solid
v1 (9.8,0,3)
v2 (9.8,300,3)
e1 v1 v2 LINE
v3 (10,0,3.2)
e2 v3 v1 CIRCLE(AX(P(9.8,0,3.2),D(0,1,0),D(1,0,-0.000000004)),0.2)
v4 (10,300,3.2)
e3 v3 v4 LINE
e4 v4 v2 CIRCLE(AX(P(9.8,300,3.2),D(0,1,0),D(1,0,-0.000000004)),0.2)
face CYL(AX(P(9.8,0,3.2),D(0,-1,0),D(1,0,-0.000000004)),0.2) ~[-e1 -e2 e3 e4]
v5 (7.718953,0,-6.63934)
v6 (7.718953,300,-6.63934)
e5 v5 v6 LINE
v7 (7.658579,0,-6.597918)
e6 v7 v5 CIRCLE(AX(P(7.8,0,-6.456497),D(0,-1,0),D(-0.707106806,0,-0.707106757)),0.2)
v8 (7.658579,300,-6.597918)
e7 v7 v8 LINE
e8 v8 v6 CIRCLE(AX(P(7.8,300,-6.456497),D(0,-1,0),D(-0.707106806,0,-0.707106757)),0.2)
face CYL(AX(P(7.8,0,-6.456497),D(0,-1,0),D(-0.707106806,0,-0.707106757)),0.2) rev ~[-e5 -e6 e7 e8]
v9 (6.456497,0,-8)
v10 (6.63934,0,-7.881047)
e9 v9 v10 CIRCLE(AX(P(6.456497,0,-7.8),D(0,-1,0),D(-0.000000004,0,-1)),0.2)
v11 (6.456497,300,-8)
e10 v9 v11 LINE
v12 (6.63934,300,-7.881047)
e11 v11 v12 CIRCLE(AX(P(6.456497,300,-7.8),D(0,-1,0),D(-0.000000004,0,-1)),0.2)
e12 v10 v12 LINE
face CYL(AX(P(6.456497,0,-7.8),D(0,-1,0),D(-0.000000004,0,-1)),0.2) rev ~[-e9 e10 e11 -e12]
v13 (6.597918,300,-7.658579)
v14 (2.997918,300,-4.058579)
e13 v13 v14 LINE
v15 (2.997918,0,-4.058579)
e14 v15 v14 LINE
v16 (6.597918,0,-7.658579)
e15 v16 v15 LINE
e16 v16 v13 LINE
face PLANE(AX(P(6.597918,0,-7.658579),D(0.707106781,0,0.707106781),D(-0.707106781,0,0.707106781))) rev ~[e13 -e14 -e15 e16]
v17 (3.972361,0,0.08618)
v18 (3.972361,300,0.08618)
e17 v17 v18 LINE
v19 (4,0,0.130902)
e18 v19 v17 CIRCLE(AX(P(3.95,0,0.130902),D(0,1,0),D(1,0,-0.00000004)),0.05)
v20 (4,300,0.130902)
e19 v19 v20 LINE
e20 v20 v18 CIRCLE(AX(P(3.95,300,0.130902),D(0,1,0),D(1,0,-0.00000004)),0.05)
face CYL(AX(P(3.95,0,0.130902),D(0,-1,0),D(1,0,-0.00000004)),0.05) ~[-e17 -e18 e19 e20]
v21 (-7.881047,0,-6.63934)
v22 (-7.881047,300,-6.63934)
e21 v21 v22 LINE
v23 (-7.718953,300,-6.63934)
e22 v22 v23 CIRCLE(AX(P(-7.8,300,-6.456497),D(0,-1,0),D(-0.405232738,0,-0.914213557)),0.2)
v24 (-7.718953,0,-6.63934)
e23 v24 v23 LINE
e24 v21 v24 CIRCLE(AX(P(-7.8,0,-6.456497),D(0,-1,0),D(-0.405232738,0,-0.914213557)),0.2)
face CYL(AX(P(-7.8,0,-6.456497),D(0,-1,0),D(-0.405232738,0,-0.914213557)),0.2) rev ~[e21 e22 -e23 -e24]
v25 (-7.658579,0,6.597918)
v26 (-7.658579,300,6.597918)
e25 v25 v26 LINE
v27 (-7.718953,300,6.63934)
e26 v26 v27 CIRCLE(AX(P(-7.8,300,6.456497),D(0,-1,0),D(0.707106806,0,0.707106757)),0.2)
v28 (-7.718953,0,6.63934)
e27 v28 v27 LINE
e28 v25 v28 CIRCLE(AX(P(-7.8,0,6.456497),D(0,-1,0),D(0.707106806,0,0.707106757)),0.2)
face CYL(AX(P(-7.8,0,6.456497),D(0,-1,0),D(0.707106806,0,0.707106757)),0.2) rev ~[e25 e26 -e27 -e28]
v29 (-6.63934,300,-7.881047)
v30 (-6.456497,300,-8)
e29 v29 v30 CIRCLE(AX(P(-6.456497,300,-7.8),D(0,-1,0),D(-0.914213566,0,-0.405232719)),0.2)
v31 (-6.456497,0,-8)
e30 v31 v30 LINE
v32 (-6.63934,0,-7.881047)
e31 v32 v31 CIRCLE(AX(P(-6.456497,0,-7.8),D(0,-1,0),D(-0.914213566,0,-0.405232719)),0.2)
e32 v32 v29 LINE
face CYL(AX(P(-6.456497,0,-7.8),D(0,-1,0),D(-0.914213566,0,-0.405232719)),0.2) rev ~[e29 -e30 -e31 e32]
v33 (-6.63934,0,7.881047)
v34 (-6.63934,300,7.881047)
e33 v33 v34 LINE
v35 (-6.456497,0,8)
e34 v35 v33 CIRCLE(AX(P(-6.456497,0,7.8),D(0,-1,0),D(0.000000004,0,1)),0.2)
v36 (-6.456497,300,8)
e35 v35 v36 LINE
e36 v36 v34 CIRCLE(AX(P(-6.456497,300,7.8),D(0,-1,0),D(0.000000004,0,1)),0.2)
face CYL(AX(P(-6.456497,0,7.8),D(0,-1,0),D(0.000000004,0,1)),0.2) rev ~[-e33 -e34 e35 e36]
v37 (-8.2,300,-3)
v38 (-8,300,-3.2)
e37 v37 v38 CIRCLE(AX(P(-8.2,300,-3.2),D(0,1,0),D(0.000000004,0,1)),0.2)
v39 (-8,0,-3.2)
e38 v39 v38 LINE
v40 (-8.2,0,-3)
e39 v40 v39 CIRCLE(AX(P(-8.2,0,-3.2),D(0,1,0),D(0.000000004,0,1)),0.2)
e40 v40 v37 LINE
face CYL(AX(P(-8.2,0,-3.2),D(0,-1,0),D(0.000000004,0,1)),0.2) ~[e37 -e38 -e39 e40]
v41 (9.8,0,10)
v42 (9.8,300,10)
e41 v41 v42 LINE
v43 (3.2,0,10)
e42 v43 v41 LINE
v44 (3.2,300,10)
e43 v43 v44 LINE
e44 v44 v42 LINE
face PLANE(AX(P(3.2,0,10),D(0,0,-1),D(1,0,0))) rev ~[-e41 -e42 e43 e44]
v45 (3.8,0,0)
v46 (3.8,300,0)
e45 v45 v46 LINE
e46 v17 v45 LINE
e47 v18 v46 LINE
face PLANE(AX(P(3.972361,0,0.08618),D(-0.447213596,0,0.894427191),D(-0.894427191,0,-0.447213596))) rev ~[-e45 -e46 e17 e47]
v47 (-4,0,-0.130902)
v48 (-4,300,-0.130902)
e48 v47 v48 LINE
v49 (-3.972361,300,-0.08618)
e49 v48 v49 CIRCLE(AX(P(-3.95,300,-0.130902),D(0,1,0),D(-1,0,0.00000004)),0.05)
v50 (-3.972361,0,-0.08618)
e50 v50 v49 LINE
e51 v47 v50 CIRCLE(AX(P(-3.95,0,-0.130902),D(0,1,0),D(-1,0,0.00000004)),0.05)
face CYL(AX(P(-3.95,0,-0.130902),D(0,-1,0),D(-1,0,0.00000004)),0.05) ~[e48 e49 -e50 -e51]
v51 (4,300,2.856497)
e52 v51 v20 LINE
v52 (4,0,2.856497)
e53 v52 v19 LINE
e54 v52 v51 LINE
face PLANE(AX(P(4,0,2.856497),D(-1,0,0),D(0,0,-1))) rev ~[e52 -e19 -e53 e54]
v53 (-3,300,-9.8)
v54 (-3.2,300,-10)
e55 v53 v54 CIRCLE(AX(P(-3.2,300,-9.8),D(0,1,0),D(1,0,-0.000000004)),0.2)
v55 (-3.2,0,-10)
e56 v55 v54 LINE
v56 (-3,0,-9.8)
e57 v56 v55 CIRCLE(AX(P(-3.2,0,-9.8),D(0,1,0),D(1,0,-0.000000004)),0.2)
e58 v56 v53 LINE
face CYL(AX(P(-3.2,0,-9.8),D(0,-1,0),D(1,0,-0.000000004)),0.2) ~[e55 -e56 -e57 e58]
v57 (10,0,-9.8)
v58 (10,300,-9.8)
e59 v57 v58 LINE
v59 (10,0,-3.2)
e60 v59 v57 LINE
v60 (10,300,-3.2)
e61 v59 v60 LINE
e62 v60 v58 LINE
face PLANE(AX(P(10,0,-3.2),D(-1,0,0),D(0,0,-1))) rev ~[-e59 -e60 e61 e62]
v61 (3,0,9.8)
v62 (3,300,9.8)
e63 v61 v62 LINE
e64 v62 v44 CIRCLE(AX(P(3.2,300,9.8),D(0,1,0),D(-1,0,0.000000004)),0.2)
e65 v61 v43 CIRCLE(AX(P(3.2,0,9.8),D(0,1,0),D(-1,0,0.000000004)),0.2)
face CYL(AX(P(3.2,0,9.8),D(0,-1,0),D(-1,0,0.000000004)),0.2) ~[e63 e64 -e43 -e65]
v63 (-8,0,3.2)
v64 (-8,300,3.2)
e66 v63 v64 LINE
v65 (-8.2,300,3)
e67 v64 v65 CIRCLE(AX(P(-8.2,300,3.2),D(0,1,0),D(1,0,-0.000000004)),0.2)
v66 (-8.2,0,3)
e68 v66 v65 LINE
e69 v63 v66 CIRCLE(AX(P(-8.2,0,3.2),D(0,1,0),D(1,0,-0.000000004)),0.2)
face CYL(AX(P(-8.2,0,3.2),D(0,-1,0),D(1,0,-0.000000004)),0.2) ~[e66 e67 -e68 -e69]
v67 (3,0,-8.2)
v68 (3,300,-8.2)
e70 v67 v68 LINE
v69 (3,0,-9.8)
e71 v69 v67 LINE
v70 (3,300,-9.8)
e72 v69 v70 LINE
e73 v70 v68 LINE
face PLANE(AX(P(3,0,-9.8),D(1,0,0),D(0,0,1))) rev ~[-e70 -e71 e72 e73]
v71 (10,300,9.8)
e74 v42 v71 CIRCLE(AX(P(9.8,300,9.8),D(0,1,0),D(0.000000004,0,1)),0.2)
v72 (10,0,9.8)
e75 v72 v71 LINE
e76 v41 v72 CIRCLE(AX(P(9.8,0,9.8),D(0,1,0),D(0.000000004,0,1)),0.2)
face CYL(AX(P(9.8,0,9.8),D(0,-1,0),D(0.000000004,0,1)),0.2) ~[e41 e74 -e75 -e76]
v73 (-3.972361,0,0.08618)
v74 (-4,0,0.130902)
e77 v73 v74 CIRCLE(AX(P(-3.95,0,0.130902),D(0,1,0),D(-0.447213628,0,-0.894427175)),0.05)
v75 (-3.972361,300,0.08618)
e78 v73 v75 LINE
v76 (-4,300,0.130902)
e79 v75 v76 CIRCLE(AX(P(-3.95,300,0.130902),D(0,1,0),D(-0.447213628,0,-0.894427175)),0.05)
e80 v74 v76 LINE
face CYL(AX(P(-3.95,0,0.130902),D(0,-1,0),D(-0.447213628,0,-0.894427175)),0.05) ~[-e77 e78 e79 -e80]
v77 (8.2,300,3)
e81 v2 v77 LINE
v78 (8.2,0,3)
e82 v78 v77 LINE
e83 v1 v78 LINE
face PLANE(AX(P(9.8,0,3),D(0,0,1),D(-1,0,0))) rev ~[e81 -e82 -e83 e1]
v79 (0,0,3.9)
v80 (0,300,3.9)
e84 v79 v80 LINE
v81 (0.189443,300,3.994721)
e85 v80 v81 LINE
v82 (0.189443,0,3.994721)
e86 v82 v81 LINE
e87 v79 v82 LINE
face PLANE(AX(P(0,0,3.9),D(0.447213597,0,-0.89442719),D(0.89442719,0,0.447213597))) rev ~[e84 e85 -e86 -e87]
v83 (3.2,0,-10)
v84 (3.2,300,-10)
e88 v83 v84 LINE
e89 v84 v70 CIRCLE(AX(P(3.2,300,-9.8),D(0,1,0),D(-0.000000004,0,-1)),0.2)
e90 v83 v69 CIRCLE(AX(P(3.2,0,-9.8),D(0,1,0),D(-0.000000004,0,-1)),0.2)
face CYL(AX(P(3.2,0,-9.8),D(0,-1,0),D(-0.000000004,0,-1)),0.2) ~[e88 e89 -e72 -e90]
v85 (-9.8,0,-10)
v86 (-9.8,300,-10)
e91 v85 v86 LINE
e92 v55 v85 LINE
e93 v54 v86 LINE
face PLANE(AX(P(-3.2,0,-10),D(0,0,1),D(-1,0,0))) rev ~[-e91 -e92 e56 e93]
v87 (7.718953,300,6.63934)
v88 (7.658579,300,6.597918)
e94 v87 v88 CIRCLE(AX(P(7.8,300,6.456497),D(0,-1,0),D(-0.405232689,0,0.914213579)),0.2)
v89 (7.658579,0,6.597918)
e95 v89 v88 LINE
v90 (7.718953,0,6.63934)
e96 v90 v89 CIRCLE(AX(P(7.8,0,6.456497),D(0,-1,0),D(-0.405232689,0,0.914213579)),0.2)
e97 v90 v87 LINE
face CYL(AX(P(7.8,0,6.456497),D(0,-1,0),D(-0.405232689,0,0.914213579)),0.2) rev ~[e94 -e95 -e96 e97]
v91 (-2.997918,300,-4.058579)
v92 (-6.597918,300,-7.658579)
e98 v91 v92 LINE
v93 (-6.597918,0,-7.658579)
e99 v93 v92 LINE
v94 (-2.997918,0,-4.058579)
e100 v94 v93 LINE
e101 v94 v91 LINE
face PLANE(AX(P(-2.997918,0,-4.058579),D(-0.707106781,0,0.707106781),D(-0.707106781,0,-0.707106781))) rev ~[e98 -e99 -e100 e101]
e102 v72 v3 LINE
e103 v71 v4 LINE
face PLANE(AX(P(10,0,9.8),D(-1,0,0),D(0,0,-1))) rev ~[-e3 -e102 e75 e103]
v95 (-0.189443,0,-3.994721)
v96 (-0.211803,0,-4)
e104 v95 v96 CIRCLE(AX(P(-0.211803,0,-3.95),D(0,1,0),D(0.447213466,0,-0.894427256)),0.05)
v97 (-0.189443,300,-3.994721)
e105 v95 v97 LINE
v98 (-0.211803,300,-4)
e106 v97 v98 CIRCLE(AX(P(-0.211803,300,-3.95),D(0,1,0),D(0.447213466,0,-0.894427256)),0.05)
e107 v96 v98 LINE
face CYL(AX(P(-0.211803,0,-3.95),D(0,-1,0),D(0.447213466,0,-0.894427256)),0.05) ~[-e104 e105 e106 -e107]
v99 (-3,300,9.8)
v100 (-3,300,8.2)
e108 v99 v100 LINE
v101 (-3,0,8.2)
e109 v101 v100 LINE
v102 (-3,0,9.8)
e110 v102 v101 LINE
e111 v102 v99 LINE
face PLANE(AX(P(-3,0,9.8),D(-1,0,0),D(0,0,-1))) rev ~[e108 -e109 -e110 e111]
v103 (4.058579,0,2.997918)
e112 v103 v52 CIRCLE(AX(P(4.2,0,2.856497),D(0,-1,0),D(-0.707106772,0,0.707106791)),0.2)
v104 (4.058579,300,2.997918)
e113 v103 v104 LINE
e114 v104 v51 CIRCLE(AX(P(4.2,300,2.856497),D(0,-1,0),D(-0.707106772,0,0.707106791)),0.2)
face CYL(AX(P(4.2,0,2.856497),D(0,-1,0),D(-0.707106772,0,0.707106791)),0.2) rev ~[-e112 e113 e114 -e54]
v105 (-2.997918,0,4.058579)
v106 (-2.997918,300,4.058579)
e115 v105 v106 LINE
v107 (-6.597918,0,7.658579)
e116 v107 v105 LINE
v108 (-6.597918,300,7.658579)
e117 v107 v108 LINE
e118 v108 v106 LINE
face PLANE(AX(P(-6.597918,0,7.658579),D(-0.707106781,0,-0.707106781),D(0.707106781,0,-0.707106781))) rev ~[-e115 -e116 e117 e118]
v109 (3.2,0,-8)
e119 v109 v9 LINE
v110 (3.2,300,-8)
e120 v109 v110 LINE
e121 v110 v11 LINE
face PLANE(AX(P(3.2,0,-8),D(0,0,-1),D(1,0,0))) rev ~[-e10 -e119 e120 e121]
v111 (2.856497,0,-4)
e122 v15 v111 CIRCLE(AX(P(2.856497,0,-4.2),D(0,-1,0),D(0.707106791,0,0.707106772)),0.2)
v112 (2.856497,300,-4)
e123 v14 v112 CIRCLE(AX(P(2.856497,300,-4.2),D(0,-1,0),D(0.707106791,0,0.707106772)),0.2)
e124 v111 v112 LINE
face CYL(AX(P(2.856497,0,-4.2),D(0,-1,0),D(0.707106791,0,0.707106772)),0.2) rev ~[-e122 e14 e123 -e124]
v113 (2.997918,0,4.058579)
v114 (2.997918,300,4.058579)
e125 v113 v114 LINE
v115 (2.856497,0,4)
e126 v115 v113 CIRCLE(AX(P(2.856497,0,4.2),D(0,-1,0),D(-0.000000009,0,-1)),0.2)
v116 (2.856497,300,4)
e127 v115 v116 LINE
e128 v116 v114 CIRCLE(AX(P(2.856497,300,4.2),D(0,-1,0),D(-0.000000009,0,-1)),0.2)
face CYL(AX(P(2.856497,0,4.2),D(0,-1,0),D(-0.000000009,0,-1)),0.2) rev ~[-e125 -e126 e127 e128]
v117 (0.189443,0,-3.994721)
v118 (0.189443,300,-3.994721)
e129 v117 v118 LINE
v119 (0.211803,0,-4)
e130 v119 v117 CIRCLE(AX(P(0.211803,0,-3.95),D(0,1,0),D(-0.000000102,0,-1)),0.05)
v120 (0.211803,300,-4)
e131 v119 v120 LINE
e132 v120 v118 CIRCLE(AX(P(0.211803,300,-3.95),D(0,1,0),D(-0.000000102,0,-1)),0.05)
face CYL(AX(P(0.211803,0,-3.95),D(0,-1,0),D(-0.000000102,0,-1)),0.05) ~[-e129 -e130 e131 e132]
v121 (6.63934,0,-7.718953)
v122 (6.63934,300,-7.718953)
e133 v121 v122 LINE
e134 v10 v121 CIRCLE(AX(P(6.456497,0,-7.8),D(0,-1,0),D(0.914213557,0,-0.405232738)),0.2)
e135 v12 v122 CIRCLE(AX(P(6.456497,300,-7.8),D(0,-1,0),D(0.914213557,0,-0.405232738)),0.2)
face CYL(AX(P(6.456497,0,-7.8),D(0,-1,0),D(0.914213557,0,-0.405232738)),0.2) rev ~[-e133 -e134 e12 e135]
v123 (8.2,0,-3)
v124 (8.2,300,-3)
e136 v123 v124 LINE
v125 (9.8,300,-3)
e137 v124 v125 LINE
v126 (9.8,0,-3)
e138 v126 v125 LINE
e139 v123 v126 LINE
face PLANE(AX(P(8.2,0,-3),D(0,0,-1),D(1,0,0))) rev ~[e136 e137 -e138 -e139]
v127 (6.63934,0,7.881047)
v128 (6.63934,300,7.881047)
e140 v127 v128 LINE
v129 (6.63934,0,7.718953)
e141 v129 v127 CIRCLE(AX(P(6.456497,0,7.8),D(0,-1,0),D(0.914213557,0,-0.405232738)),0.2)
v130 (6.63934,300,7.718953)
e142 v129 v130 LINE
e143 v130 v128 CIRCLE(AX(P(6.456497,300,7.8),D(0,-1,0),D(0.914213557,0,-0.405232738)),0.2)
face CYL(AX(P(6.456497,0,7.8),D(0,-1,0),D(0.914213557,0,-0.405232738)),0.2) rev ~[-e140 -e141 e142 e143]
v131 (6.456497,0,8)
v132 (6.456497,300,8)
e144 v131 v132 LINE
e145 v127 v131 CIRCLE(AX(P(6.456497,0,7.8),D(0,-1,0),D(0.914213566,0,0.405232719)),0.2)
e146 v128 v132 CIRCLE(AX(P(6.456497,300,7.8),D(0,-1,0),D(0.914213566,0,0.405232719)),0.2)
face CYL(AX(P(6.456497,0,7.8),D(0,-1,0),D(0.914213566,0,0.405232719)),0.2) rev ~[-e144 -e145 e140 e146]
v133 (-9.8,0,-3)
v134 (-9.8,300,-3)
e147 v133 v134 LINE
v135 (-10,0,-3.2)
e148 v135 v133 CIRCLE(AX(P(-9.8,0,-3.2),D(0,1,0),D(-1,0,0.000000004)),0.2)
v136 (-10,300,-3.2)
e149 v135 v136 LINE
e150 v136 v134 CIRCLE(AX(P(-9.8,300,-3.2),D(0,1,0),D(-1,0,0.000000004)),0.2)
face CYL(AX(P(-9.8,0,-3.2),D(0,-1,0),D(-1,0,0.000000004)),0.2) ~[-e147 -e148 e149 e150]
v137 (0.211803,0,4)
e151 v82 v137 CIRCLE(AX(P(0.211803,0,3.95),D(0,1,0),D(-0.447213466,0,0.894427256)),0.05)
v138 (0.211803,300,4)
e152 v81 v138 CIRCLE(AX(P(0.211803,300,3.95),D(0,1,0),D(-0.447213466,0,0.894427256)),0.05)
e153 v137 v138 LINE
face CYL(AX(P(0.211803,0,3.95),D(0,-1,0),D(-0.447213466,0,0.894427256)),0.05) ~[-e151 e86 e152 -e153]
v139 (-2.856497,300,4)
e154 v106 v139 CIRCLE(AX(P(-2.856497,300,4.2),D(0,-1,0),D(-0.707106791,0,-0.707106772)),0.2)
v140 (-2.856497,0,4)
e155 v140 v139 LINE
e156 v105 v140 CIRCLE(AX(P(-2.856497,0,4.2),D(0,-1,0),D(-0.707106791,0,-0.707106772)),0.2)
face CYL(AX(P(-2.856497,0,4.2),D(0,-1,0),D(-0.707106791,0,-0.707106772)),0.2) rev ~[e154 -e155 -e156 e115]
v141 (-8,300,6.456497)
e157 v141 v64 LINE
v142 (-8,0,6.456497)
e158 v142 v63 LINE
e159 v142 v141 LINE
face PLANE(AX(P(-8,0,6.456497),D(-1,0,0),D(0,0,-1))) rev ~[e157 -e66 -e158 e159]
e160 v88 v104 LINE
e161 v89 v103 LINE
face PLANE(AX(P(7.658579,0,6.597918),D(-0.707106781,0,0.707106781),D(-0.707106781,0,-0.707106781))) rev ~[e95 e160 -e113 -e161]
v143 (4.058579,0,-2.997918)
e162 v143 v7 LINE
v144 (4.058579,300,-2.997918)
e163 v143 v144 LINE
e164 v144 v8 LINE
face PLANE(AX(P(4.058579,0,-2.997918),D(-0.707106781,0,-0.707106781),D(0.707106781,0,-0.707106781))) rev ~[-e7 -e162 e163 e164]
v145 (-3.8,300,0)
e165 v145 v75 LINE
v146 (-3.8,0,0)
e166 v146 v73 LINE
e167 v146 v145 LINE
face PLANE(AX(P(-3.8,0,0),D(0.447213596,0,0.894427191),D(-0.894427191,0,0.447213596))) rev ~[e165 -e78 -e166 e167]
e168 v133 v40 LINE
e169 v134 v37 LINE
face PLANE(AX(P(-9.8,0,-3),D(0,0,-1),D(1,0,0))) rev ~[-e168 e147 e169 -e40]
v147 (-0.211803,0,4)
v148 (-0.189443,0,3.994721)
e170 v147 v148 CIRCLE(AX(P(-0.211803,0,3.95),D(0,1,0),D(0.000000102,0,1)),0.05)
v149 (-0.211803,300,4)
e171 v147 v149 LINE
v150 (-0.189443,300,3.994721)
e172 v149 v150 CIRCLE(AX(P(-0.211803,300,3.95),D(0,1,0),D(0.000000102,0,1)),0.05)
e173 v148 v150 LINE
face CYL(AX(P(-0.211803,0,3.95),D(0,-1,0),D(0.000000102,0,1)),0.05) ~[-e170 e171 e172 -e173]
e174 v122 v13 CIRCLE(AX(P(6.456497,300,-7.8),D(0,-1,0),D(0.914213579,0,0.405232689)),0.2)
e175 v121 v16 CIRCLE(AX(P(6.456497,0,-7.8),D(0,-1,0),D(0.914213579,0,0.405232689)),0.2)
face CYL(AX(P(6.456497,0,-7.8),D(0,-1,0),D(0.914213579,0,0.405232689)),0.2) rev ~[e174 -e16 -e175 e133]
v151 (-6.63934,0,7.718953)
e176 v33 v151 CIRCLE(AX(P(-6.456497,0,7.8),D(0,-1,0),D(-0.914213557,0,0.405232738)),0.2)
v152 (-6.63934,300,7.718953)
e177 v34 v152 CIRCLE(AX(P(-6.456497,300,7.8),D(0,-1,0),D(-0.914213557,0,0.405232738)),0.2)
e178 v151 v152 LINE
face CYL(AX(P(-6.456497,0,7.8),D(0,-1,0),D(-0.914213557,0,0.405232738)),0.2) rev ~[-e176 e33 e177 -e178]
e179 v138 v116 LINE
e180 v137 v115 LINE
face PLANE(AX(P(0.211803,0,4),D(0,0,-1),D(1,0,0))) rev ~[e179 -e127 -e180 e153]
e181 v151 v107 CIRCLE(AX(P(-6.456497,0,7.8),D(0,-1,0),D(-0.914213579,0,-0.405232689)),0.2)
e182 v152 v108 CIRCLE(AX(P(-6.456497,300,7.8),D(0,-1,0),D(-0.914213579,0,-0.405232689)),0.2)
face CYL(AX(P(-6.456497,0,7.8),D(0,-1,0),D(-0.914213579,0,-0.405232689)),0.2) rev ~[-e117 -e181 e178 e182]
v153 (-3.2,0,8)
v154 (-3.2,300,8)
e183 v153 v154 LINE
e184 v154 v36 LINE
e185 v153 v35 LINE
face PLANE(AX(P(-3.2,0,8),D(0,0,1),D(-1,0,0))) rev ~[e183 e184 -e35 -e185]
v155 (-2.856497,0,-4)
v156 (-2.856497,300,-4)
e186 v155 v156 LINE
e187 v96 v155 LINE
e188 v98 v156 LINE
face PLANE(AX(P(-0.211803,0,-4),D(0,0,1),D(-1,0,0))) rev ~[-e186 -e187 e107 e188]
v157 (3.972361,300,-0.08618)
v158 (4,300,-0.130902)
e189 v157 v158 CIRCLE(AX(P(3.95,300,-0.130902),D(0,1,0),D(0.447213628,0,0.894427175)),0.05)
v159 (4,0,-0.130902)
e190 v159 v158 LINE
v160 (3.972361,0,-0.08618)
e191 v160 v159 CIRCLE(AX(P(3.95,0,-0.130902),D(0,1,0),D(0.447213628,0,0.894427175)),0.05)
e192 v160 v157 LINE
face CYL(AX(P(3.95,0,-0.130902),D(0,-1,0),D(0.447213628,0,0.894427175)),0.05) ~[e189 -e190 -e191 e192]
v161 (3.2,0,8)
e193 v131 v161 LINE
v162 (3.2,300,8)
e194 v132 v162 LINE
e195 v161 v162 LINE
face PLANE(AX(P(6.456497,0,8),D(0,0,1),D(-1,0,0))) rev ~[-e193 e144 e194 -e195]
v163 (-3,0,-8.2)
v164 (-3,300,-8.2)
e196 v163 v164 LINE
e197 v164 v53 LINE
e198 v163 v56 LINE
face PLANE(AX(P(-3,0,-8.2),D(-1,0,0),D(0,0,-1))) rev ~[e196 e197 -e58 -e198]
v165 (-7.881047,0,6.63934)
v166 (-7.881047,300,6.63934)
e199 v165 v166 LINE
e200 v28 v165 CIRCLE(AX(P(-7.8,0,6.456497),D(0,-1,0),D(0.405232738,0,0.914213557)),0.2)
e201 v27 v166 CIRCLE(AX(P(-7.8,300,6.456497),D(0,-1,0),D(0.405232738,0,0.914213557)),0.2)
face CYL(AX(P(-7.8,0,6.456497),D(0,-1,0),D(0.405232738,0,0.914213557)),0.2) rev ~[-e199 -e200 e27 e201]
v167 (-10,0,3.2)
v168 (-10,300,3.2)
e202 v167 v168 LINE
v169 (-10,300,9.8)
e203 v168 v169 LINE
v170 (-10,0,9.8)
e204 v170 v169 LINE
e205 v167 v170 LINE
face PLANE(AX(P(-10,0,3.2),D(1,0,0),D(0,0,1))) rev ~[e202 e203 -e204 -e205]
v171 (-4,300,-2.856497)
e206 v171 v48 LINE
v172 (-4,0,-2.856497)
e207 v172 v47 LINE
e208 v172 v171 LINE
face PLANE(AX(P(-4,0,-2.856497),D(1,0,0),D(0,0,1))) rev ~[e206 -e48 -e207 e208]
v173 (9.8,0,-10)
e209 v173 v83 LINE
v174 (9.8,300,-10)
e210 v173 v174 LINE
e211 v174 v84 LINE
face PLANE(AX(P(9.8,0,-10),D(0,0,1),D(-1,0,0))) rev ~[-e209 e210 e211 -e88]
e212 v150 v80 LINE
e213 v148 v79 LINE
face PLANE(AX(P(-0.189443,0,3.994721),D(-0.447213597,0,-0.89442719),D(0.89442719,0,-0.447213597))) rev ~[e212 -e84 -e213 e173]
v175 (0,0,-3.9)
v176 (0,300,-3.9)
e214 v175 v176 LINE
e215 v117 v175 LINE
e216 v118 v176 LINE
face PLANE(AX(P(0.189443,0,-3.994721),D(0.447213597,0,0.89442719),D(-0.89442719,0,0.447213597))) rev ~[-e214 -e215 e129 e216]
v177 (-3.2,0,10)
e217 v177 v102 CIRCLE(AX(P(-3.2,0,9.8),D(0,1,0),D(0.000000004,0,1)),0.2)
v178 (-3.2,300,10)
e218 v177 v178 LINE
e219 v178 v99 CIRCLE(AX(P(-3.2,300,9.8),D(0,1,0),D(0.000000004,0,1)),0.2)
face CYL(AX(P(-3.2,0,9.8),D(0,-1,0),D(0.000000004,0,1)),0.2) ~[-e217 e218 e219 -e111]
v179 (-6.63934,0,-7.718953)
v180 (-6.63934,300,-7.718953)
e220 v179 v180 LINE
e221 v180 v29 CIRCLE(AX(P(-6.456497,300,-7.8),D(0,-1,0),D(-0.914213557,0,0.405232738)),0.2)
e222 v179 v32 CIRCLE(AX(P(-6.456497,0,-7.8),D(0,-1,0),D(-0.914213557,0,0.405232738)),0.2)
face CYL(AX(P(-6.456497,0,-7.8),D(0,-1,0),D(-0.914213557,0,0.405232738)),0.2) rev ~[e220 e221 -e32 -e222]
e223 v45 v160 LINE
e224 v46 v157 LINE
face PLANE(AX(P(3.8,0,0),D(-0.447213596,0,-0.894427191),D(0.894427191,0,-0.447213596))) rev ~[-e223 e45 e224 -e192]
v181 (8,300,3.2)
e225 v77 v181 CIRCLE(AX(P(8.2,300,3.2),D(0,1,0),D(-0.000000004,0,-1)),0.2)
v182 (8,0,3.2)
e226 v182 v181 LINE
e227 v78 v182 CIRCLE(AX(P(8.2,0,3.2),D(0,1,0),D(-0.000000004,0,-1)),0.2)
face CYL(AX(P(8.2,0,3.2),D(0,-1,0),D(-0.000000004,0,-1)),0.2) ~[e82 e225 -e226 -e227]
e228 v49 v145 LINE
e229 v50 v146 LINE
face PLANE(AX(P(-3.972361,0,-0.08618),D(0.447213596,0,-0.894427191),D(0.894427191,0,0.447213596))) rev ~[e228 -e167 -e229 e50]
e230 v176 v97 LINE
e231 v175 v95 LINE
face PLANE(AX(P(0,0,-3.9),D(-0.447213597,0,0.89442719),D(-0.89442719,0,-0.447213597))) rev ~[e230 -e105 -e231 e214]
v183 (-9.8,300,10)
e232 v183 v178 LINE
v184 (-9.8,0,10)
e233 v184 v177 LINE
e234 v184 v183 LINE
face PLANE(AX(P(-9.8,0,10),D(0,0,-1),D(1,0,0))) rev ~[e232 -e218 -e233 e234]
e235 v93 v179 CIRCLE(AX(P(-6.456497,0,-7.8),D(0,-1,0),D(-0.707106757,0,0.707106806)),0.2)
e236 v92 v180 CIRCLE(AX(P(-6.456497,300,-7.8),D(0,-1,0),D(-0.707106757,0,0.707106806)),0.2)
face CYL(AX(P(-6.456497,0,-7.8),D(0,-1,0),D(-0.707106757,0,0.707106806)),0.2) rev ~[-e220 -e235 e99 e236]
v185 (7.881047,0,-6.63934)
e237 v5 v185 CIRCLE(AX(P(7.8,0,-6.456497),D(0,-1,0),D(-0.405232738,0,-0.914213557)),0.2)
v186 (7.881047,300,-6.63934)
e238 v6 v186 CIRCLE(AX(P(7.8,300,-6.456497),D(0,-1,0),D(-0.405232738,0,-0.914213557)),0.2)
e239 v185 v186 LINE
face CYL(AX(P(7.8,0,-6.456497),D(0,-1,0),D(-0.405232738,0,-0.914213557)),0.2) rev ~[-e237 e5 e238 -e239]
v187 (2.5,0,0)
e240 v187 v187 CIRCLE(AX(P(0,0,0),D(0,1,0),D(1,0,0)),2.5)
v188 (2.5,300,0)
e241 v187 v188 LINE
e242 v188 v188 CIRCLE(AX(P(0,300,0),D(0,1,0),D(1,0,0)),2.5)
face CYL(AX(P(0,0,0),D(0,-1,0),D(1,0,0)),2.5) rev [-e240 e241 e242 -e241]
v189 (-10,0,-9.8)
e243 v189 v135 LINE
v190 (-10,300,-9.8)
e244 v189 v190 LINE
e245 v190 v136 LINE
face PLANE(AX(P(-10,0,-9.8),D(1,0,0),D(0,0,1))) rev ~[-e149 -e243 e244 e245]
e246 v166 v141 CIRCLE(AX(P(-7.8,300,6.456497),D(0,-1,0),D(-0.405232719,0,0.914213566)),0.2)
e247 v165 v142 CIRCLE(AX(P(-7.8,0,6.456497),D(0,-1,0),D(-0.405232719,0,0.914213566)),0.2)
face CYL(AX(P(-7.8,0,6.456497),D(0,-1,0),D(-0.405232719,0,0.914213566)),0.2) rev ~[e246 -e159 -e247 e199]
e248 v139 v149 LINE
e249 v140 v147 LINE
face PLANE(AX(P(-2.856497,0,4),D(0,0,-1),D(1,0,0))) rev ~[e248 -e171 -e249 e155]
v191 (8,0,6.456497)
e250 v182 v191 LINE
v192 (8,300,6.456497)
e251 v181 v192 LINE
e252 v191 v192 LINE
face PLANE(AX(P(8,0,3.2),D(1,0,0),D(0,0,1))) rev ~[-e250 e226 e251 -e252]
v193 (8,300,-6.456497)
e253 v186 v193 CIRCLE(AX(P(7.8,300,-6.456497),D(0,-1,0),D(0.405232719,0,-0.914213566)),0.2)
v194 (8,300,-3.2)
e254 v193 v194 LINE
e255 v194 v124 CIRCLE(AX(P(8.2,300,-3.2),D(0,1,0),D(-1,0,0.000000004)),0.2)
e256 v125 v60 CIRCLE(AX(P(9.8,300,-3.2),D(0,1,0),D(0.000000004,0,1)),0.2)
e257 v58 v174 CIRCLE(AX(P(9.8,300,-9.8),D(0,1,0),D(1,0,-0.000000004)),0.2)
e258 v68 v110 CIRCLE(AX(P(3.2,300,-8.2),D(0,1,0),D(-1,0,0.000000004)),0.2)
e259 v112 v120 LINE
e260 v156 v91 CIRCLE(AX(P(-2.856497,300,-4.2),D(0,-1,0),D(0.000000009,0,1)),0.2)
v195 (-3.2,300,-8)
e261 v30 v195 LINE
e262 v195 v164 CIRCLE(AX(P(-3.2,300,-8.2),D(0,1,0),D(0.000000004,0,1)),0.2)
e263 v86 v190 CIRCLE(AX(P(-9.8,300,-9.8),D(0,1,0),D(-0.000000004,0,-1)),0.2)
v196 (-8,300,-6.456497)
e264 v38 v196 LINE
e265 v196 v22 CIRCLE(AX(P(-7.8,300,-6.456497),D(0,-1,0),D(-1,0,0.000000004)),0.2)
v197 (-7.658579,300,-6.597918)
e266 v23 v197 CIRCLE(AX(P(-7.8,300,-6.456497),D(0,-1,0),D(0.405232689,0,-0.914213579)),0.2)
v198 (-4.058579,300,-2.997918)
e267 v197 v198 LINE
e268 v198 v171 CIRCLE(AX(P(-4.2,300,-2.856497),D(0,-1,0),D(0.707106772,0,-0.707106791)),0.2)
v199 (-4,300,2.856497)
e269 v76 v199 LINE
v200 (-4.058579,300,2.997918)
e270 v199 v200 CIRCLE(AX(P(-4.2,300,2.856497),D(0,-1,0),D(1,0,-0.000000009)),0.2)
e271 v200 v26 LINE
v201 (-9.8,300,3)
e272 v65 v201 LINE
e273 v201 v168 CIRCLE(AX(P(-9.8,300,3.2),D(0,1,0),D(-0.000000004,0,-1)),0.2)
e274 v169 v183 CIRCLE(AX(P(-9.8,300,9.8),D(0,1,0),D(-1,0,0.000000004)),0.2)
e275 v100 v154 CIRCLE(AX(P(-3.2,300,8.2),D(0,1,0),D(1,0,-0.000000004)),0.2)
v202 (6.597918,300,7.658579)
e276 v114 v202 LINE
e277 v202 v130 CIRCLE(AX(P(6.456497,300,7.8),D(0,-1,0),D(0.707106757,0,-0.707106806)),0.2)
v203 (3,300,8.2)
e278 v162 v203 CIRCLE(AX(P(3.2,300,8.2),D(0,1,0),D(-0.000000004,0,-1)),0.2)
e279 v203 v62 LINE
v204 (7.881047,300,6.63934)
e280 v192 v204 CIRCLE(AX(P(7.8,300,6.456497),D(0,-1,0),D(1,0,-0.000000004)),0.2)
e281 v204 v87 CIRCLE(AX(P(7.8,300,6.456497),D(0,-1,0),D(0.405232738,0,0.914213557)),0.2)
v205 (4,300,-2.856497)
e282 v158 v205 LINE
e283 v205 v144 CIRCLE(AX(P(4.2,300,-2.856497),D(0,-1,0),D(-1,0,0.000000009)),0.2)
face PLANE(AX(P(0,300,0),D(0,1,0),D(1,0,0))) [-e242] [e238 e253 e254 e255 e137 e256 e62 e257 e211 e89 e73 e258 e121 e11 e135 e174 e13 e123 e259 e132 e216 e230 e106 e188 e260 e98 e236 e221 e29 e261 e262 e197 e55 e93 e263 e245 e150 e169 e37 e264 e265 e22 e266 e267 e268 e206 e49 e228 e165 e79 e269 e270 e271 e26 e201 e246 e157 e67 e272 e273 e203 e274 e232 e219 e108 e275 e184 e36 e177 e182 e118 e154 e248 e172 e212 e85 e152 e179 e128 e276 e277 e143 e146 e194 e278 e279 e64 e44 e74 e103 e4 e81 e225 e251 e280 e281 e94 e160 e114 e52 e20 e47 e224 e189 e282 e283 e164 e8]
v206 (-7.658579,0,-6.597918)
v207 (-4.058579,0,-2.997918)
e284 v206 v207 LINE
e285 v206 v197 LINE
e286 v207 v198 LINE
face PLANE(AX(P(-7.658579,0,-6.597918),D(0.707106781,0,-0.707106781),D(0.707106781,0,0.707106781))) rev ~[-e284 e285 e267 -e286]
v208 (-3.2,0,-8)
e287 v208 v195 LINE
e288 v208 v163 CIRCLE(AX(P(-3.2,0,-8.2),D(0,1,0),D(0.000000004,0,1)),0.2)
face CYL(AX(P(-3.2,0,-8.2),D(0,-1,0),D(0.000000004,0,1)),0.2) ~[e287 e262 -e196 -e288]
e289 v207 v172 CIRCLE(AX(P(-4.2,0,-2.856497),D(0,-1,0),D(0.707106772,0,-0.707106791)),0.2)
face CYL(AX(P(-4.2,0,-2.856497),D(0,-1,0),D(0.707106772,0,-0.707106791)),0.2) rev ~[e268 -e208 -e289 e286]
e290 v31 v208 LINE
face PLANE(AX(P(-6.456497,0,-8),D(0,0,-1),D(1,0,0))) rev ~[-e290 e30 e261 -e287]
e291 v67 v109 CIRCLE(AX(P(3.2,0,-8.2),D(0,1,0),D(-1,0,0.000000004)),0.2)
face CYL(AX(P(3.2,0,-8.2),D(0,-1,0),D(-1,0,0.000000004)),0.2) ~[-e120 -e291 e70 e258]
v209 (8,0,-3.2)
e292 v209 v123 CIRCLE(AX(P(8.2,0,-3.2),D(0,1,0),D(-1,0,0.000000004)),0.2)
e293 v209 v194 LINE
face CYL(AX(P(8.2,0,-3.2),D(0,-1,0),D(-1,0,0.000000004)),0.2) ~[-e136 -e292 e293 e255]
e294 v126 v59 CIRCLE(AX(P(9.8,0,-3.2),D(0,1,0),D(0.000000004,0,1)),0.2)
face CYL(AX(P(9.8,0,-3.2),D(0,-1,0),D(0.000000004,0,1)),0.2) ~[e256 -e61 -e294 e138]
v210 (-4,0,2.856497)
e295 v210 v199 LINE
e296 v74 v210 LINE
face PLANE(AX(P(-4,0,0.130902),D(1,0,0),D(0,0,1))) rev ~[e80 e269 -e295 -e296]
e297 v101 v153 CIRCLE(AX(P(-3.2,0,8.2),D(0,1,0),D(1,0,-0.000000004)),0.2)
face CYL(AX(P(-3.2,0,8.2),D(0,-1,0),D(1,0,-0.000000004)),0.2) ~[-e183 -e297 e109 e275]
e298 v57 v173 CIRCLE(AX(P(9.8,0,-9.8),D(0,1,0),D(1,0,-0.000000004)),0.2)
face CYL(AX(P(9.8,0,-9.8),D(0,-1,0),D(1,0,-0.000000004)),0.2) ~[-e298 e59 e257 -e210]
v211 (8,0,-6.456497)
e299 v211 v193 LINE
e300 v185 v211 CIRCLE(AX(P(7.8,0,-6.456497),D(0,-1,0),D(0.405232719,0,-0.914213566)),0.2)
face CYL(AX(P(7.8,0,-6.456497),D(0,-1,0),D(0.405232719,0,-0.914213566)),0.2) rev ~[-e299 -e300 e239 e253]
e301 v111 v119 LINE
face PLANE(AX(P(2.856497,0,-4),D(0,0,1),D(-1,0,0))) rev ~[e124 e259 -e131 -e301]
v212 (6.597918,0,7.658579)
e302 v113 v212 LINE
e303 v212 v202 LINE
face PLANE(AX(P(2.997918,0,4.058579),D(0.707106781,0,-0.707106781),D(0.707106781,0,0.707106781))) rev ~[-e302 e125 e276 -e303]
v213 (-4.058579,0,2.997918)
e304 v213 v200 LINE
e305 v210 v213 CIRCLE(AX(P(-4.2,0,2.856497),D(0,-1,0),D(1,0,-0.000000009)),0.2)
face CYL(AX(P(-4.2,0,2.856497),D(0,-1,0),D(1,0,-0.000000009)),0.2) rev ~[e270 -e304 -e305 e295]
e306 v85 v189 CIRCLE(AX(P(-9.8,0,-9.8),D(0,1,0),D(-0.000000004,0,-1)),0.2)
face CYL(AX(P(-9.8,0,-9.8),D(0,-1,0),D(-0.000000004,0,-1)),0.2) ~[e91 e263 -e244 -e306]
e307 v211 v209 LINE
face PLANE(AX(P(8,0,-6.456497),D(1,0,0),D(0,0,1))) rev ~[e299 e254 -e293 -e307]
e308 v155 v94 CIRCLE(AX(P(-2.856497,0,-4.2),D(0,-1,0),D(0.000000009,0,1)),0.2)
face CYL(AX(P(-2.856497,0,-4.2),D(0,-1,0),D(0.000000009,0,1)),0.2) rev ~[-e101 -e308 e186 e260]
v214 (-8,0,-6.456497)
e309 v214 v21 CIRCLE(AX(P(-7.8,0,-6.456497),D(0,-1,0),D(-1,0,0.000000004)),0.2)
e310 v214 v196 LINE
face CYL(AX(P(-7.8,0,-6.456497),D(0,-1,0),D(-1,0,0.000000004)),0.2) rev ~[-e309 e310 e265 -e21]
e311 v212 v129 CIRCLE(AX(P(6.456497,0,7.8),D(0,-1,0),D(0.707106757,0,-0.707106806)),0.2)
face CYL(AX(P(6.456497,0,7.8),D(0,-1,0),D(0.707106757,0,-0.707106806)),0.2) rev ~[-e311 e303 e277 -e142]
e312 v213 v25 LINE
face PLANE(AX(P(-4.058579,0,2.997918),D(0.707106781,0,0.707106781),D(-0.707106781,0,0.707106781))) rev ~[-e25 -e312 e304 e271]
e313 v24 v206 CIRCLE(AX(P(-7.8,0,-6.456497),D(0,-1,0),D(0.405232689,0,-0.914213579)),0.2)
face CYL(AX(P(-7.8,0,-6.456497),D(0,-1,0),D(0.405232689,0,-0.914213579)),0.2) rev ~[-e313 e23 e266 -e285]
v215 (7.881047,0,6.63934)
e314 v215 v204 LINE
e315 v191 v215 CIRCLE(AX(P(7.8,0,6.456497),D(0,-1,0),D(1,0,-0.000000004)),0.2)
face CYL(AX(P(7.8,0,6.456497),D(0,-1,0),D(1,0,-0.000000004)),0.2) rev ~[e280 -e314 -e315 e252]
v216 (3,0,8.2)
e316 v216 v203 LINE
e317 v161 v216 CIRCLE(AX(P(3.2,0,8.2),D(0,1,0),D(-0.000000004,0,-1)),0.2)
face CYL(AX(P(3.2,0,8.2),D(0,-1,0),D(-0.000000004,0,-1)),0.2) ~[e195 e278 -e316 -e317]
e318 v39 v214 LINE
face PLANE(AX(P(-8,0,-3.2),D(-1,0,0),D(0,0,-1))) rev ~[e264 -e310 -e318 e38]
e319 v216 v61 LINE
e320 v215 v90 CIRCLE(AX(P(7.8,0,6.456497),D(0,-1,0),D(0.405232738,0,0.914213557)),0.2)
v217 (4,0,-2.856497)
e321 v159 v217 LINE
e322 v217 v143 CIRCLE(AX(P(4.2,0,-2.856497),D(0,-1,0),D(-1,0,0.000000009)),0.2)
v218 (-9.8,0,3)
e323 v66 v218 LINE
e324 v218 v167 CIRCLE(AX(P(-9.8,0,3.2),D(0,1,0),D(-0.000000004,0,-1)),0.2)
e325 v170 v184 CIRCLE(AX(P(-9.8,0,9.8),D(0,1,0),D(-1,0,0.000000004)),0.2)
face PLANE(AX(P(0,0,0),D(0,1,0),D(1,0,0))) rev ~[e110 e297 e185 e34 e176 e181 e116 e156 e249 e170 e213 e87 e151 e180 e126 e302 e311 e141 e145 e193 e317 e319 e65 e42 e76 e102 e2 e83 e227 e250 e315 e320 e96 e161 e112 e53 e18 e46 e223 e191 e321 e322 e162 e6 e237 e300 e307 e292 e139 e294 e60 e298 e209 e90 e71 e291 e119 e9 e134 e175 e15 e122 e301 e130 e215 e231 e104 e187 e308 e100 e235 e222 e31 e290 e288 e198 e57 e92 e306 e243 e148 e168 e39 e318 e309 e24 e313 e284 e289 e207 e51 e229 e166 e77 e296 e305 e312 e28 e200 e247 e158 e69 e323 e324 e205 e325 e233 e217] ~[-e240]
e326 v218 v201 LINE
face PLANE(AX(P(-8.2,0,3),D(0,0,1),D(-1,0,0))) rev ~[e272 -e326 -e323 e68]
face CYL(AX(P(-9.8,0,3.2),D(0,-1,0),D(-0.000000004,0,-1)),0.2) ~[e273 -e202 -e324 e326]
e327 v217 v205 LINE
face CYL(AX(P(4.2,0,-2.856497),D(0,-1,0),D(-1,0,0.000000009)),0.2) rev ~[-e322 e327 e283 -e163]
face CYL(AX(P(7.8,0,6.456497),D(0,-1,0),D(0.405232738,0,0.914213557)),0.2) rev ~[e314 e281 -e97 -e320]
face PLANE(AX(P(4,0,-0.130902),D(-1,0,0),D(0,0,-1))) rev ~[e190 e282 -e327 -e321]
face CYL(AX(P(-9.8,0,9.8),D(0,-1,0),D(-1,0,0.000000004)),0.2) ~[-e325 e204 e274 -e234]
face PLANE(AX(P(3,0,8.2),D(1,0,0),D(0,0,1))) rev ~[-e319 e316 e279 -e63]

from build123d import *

# Parameters (mm, degrees)
SKETCH1_R           = 2.5
BOSS_EXTRUDE1_DEPTH = 300


with BuildPart() as part:
    # Sketch1 → Boss-Extrude1 (new body)
    with BuildSketch(Plane(origin=(0, 0, 0), x_dir=(1, 0, 0), z_dir=(0, 1, 0))):
        with BuildLine():
            Line((-2.997918472, 4.058578644), (-6.597918472, 7.658578644))
            ThreePointArc((-6.597918472, 7.658578644), (-6.621415508, 7.686854412), (-6.639339828, 7.718953455))
            ThreePointArc((-6.639339828, 7.718953455), (-6.656497116, 7.8), (-6.639339828, 7.881046545))
            ThreePointArc((-6.639339828, 7.881046545), (-6.565562901, 7.967644429), (-6.456497116, 8))
            Line((-6.456497116, 8), (-3.2, 8))
            ThreePointArc((-3.2, 8), (-3.058578644, 8.058578644), (-3, 8.2))
            Line((-3, 8.2), (-3, 9.8))
            ThreePointArc((-3, 9.8), (-3.058578644, 9.941421356), (-3.2, 10))
            Line((-3.2, 10), (-9.8, 10))
            ThreePointArc((-9.8, 10), (-9.941421356, 9.941421356), (-10, 9.8))
            Line((-10, 9.8), (-10, 3.2))
            ThreePointArc((-10, 3.2), (-9.941421356, 3.058578644), (-9.8, 3))
            Line((-9.8, 3), (-8.2, 3))
            ThreePointArc((-8.2, 3), (-8.058578644, 3.058578644), (-8, 3.2))
            Line((-8, 3.2), (-8, 6.456497116))
            ThreePointArc((-8, 6.456497116), (-7.967644429, 6.565562901), (-7.881046545, 6.639339828))
            ThreePointArc((-7.881046545, 6.639339828), (-7.8, 6.656497116), (-7.718953455, 6.639339828))
            ThreePointArc((-7.718953455, 6.639339828), (-7.686854412, 6.621415508), (-7.658578644, 6.597918472))
            Line((-7.658578644, 6.597918472), (-4.058578644, 2.997918472))
            ThreePointArc((-4.058578644, 2.997918472), (-4.015224093, 2.933033802), (-4, 2.856497116))
            Line((-4, 2.856497116), (-4, 0.130901699))
            ThreePointArc((-4, 0.130901699), (-3.99253254, 0.104615144), (-3.97236068, 0.08618034))
            Line((-3.97236068, 0.08618034), (-3.8, 0))
            Line((-3.8, 0), (-3.97236068, -0.08618034))
            ThreePointArc((-3.97236068, -0.08618034), (-3.99253254, -0.104615144), (-4, -0.130901699))
            Line((-4, -0.130901699), (-4, -2.856497116))
            ThreePointArc((-4, -2.856497116), (-4.015224093, -2.933033802), (-4.058578644, -2.997918472))
            Line((-4.058578644, -2.997918472), (-7.658578644, -6.597918472))
            ThreePointArc((-7.658578644, -6.597918472), (-7.686854412, -6.621415508), (-7.718953455, -6.639339828))
            ThreePointArc((-7.718953455, -6.639339828), (-7.8, -6.656497116), (-7.881046545, -6.639339828))
            ThreePointArc((-7.881046545, -6.639339828), (-7.967644429, -6.565562901), (-8, -6.456497116))
            Line((-8, -6.456497116), (-8, -3.2))
            ThreePointArc((-8, -3.2), (-8.058578644, -3.058578644), (-8.2, -3))
            Line((-8.2, -3), (-9.8, -3))
            ThreePointArc((-9.8, -3), (-9.941421356, -3.058578644), (-10, -3.2))
            Line((-10, -3.2), (-10, -9.8))
            ThreePointArc((-10, -9.8), (-9.941421356, -9.941421356), (-9.8, -10))
            Line((-9.8, -10), (-3.2, -10))
            ThreePointArc((-3.2, -10), (-3.058578644, -9.941421356), (-3, -9.8))
            Line((-3, -9.8), (-3, -8.2))
            ThreePointArc((-3, -8.2), (-3.058578644, -8.058578644), (-3.2, -8))
            Line((-3.2, -8), (-6.456497116, -8))
            ThreePointArc((-6.456497116, -8), (-6.565562901, -7.967644429), (-6.639339828, -7.881046545))
            ThreePointArc((-6.639339828, -7.881046545), (-6.656497116, -7.8), (-6.639339828, -7.718953455))
            ThreePointArc((-6.639339828, -7.718953455), (-6.621415508, -7.686854412), (-6.597918472, -7.658578644))
            Line((-6.597918472, -7.658578644), (-2.997918472, -4.058578644))
            ThreePointArc((-2.997918472, -4.058578644), (-2.933033802, -4.015224093), (-2.856497116, -4))
            Line((-2.856497116, -4), (-0.211803399, -4))
            ThreePointArc((-0.211803399, -4), (-0.200315753, -3.998662449), (-0.189442719, -3.99472136))
            Line((-0.189442719, -3.99472136), (0, -3.9))
            Line((0, -3.9), (0.189442719, -3.99472136))
            ThreePointArc((0.189442719, -3.99472136), (0.200315753, -3.998662449), (0.211803399, -4))
            Line((0.211803399, -4), (2.856497116, -4))
            ThreePointArc((2.856497116, -4), (2.933033802, -4.015224093), (2.997918472, -4.058578644))
            Line((2.997918472, -4.058578644), (6.597918472, -7.658578644))
            ThreePointArc((6.597918472, -7.658578644), (6.621415508, -7.686854412), (6.639339828, -7.718953455))
            ThreePointArc((6.639339828, -7.718953455), (6.656497116, -7.8), (6.639339828, -7.881046545))
            ThreePointArc((6.639339828, -7.881046545), (6.565562901, -7.967644429), (6.456497116, -8))
            Line((6.456497116, -8), (3.2, -8))
            ThreePointArc((3.2, -8), (3.058578644, -8.058578644), (3, -8.2))
            Line((3, -8.2), (3, -9.8))
            ThreePointArc((3, -9.8), (3.058578644, -9.941421356), (3.2, -10))
            Line((3.2, -10), (9.8, -10))
            ThreePointArc((9.8, -10), (9.941421356, -9.941421356), (10, -9.8))
            Line((10, -9.8), (10, -3.2))
            ThreePointArc((10, -3.2), (9.941421356, -3.058578644), (9.8, -3))
            Line((9.8, -3), (8.2, -3))
            ThreePointArc((8.2, -3), (8.058578644, -3.058578644), (8, -3.2))
            Line((8, -3.2), (8, -6.456497116))
            ThreePointArc((8, -6.456497116), (7.967644429, -6.565562901), (7.881046545, -6.639339828))
            ThreePointArc((7.881046545, -6.639339828), (7.8, -6.656497116), (7.718953455, -6.639339828))
            ThreePointArc((7.718953455, -6.639339828), (7.686854412, -6.621415508), (7.658578644, -6.597918472))
            Line((7.658578644, -6.597918472), (4.058578644, -2.997918472))
            ThreePointArc((4.058578644, -2.997918472), (4.015224093, -2.933033802), (4, -2.856497116))
            Line((4, -2.856497116), (4, -0.130901699))
            ThreePointArc((4, -0.130901699), (3.99253254, -0.104615144), (3.97236068, -0.08618034))
            Line((3.97236068, -0.08618034), (3.8, 0))
            Line((3.8, 0), (3.97236068, 0.08618034))
            ThreePointArc((3.97236068, 0.08618034), (3.99253254, 0.104615144), (4, 0.130901699))
            Line((4, 0.130901699), (4, 2.856497116))
            ThreePointArc((4, 2.856497116), (4.015224093, 2.933033802), (4.058578644, 2.997918472))
            Line((4.058578644, 2.997918472), (7.658578644, 6.597918472))
            ThreePointArc((7.658578644, 6.597918472), (7.686854412, 6.621415508), (7.718953455, 6.639339828))
            ThreePointArc((7.718953455, 6.639339828), (7.8, 6.656497116), (7.881046545, 6.639339828))
            ThreePointArc((7.881046545, 6.639339828), (7.967644429, 6.565562901), (8, 6.456497116))
            Line((8, 6.456497116), (8, 3.2))
            ThreePointArc((8, 3.2), (8.058578644, 3.058578644), (8.2, 3))
            Line((8.2, 3), (9.8, 3))
            ThreePointArc((9.8, 3), (9.941421356, 3.058578644), (10, 3.2))
            Line((10, 3.2), (10, 9.8))
            ThreePointArc((10, 9.8), (9.941421356, 9.941421356), (9.8, 10))
            Line((9.8, 10), (3.2, 10))
            ThreePointArc((3.2, 10), (3.058578644, 9.941421356), (3, 9.8))
            Line((3, 9.8), (3, 8.2))
            ThreePointArc((3, 8.2), (3.058578644, 8.058578644), (3.2, 8))
            Line((3.2, 8), (6.456497116, 8))
            ThreePointArc((6.456497116, 8), (6.565562901, 7.967644429), (6.639339828, 7.881046545))
            ThreePointArc((6.639339828, 7.881046545), (6.656497116, 7.8), (6.639339828, 7.718953455))
            ThreePointArc((6.639339828, 7.718953455), (6.621415508, 7.686854412), (6.597918472, 7.658578644))
            Line((6.597918472, 7.658578644), (2.997918472, 4.058578644))
            ThreePointArc((2.997918472, 4.058578644), (2.933033802, 4.015224093), (2.856497116, 4))
            Line((2.856497116, 4), (0.211803399, 4))
            ThreePointArc((0.211803399, 4), (0.200315753, 3.998662449), (0.189442719, 3.99472136))
            Line((0.189442719, 3.99472136), (0, 3.9))
            Line((0, 3.9), (-0.189442719, 3.99472136))
            ThreePointArc((-0.189442719, 3.99472136), (-0.200315753, 3.998662449), (-0.211803399, 4))
            Line((-0.211803399, 4), (-2.856497116, 4))
            ThreePointArc((-2.856497116, 4), (-2.933033802, 4.015224093), (-2.997918472, 4.058578644))
        make_face()
        Circle(SKETCH1_R, mode=Mode.SUBTRACT)
    extrude(amount=BOSS_EXTRUDE1_DEPTH)


solid = part.part
